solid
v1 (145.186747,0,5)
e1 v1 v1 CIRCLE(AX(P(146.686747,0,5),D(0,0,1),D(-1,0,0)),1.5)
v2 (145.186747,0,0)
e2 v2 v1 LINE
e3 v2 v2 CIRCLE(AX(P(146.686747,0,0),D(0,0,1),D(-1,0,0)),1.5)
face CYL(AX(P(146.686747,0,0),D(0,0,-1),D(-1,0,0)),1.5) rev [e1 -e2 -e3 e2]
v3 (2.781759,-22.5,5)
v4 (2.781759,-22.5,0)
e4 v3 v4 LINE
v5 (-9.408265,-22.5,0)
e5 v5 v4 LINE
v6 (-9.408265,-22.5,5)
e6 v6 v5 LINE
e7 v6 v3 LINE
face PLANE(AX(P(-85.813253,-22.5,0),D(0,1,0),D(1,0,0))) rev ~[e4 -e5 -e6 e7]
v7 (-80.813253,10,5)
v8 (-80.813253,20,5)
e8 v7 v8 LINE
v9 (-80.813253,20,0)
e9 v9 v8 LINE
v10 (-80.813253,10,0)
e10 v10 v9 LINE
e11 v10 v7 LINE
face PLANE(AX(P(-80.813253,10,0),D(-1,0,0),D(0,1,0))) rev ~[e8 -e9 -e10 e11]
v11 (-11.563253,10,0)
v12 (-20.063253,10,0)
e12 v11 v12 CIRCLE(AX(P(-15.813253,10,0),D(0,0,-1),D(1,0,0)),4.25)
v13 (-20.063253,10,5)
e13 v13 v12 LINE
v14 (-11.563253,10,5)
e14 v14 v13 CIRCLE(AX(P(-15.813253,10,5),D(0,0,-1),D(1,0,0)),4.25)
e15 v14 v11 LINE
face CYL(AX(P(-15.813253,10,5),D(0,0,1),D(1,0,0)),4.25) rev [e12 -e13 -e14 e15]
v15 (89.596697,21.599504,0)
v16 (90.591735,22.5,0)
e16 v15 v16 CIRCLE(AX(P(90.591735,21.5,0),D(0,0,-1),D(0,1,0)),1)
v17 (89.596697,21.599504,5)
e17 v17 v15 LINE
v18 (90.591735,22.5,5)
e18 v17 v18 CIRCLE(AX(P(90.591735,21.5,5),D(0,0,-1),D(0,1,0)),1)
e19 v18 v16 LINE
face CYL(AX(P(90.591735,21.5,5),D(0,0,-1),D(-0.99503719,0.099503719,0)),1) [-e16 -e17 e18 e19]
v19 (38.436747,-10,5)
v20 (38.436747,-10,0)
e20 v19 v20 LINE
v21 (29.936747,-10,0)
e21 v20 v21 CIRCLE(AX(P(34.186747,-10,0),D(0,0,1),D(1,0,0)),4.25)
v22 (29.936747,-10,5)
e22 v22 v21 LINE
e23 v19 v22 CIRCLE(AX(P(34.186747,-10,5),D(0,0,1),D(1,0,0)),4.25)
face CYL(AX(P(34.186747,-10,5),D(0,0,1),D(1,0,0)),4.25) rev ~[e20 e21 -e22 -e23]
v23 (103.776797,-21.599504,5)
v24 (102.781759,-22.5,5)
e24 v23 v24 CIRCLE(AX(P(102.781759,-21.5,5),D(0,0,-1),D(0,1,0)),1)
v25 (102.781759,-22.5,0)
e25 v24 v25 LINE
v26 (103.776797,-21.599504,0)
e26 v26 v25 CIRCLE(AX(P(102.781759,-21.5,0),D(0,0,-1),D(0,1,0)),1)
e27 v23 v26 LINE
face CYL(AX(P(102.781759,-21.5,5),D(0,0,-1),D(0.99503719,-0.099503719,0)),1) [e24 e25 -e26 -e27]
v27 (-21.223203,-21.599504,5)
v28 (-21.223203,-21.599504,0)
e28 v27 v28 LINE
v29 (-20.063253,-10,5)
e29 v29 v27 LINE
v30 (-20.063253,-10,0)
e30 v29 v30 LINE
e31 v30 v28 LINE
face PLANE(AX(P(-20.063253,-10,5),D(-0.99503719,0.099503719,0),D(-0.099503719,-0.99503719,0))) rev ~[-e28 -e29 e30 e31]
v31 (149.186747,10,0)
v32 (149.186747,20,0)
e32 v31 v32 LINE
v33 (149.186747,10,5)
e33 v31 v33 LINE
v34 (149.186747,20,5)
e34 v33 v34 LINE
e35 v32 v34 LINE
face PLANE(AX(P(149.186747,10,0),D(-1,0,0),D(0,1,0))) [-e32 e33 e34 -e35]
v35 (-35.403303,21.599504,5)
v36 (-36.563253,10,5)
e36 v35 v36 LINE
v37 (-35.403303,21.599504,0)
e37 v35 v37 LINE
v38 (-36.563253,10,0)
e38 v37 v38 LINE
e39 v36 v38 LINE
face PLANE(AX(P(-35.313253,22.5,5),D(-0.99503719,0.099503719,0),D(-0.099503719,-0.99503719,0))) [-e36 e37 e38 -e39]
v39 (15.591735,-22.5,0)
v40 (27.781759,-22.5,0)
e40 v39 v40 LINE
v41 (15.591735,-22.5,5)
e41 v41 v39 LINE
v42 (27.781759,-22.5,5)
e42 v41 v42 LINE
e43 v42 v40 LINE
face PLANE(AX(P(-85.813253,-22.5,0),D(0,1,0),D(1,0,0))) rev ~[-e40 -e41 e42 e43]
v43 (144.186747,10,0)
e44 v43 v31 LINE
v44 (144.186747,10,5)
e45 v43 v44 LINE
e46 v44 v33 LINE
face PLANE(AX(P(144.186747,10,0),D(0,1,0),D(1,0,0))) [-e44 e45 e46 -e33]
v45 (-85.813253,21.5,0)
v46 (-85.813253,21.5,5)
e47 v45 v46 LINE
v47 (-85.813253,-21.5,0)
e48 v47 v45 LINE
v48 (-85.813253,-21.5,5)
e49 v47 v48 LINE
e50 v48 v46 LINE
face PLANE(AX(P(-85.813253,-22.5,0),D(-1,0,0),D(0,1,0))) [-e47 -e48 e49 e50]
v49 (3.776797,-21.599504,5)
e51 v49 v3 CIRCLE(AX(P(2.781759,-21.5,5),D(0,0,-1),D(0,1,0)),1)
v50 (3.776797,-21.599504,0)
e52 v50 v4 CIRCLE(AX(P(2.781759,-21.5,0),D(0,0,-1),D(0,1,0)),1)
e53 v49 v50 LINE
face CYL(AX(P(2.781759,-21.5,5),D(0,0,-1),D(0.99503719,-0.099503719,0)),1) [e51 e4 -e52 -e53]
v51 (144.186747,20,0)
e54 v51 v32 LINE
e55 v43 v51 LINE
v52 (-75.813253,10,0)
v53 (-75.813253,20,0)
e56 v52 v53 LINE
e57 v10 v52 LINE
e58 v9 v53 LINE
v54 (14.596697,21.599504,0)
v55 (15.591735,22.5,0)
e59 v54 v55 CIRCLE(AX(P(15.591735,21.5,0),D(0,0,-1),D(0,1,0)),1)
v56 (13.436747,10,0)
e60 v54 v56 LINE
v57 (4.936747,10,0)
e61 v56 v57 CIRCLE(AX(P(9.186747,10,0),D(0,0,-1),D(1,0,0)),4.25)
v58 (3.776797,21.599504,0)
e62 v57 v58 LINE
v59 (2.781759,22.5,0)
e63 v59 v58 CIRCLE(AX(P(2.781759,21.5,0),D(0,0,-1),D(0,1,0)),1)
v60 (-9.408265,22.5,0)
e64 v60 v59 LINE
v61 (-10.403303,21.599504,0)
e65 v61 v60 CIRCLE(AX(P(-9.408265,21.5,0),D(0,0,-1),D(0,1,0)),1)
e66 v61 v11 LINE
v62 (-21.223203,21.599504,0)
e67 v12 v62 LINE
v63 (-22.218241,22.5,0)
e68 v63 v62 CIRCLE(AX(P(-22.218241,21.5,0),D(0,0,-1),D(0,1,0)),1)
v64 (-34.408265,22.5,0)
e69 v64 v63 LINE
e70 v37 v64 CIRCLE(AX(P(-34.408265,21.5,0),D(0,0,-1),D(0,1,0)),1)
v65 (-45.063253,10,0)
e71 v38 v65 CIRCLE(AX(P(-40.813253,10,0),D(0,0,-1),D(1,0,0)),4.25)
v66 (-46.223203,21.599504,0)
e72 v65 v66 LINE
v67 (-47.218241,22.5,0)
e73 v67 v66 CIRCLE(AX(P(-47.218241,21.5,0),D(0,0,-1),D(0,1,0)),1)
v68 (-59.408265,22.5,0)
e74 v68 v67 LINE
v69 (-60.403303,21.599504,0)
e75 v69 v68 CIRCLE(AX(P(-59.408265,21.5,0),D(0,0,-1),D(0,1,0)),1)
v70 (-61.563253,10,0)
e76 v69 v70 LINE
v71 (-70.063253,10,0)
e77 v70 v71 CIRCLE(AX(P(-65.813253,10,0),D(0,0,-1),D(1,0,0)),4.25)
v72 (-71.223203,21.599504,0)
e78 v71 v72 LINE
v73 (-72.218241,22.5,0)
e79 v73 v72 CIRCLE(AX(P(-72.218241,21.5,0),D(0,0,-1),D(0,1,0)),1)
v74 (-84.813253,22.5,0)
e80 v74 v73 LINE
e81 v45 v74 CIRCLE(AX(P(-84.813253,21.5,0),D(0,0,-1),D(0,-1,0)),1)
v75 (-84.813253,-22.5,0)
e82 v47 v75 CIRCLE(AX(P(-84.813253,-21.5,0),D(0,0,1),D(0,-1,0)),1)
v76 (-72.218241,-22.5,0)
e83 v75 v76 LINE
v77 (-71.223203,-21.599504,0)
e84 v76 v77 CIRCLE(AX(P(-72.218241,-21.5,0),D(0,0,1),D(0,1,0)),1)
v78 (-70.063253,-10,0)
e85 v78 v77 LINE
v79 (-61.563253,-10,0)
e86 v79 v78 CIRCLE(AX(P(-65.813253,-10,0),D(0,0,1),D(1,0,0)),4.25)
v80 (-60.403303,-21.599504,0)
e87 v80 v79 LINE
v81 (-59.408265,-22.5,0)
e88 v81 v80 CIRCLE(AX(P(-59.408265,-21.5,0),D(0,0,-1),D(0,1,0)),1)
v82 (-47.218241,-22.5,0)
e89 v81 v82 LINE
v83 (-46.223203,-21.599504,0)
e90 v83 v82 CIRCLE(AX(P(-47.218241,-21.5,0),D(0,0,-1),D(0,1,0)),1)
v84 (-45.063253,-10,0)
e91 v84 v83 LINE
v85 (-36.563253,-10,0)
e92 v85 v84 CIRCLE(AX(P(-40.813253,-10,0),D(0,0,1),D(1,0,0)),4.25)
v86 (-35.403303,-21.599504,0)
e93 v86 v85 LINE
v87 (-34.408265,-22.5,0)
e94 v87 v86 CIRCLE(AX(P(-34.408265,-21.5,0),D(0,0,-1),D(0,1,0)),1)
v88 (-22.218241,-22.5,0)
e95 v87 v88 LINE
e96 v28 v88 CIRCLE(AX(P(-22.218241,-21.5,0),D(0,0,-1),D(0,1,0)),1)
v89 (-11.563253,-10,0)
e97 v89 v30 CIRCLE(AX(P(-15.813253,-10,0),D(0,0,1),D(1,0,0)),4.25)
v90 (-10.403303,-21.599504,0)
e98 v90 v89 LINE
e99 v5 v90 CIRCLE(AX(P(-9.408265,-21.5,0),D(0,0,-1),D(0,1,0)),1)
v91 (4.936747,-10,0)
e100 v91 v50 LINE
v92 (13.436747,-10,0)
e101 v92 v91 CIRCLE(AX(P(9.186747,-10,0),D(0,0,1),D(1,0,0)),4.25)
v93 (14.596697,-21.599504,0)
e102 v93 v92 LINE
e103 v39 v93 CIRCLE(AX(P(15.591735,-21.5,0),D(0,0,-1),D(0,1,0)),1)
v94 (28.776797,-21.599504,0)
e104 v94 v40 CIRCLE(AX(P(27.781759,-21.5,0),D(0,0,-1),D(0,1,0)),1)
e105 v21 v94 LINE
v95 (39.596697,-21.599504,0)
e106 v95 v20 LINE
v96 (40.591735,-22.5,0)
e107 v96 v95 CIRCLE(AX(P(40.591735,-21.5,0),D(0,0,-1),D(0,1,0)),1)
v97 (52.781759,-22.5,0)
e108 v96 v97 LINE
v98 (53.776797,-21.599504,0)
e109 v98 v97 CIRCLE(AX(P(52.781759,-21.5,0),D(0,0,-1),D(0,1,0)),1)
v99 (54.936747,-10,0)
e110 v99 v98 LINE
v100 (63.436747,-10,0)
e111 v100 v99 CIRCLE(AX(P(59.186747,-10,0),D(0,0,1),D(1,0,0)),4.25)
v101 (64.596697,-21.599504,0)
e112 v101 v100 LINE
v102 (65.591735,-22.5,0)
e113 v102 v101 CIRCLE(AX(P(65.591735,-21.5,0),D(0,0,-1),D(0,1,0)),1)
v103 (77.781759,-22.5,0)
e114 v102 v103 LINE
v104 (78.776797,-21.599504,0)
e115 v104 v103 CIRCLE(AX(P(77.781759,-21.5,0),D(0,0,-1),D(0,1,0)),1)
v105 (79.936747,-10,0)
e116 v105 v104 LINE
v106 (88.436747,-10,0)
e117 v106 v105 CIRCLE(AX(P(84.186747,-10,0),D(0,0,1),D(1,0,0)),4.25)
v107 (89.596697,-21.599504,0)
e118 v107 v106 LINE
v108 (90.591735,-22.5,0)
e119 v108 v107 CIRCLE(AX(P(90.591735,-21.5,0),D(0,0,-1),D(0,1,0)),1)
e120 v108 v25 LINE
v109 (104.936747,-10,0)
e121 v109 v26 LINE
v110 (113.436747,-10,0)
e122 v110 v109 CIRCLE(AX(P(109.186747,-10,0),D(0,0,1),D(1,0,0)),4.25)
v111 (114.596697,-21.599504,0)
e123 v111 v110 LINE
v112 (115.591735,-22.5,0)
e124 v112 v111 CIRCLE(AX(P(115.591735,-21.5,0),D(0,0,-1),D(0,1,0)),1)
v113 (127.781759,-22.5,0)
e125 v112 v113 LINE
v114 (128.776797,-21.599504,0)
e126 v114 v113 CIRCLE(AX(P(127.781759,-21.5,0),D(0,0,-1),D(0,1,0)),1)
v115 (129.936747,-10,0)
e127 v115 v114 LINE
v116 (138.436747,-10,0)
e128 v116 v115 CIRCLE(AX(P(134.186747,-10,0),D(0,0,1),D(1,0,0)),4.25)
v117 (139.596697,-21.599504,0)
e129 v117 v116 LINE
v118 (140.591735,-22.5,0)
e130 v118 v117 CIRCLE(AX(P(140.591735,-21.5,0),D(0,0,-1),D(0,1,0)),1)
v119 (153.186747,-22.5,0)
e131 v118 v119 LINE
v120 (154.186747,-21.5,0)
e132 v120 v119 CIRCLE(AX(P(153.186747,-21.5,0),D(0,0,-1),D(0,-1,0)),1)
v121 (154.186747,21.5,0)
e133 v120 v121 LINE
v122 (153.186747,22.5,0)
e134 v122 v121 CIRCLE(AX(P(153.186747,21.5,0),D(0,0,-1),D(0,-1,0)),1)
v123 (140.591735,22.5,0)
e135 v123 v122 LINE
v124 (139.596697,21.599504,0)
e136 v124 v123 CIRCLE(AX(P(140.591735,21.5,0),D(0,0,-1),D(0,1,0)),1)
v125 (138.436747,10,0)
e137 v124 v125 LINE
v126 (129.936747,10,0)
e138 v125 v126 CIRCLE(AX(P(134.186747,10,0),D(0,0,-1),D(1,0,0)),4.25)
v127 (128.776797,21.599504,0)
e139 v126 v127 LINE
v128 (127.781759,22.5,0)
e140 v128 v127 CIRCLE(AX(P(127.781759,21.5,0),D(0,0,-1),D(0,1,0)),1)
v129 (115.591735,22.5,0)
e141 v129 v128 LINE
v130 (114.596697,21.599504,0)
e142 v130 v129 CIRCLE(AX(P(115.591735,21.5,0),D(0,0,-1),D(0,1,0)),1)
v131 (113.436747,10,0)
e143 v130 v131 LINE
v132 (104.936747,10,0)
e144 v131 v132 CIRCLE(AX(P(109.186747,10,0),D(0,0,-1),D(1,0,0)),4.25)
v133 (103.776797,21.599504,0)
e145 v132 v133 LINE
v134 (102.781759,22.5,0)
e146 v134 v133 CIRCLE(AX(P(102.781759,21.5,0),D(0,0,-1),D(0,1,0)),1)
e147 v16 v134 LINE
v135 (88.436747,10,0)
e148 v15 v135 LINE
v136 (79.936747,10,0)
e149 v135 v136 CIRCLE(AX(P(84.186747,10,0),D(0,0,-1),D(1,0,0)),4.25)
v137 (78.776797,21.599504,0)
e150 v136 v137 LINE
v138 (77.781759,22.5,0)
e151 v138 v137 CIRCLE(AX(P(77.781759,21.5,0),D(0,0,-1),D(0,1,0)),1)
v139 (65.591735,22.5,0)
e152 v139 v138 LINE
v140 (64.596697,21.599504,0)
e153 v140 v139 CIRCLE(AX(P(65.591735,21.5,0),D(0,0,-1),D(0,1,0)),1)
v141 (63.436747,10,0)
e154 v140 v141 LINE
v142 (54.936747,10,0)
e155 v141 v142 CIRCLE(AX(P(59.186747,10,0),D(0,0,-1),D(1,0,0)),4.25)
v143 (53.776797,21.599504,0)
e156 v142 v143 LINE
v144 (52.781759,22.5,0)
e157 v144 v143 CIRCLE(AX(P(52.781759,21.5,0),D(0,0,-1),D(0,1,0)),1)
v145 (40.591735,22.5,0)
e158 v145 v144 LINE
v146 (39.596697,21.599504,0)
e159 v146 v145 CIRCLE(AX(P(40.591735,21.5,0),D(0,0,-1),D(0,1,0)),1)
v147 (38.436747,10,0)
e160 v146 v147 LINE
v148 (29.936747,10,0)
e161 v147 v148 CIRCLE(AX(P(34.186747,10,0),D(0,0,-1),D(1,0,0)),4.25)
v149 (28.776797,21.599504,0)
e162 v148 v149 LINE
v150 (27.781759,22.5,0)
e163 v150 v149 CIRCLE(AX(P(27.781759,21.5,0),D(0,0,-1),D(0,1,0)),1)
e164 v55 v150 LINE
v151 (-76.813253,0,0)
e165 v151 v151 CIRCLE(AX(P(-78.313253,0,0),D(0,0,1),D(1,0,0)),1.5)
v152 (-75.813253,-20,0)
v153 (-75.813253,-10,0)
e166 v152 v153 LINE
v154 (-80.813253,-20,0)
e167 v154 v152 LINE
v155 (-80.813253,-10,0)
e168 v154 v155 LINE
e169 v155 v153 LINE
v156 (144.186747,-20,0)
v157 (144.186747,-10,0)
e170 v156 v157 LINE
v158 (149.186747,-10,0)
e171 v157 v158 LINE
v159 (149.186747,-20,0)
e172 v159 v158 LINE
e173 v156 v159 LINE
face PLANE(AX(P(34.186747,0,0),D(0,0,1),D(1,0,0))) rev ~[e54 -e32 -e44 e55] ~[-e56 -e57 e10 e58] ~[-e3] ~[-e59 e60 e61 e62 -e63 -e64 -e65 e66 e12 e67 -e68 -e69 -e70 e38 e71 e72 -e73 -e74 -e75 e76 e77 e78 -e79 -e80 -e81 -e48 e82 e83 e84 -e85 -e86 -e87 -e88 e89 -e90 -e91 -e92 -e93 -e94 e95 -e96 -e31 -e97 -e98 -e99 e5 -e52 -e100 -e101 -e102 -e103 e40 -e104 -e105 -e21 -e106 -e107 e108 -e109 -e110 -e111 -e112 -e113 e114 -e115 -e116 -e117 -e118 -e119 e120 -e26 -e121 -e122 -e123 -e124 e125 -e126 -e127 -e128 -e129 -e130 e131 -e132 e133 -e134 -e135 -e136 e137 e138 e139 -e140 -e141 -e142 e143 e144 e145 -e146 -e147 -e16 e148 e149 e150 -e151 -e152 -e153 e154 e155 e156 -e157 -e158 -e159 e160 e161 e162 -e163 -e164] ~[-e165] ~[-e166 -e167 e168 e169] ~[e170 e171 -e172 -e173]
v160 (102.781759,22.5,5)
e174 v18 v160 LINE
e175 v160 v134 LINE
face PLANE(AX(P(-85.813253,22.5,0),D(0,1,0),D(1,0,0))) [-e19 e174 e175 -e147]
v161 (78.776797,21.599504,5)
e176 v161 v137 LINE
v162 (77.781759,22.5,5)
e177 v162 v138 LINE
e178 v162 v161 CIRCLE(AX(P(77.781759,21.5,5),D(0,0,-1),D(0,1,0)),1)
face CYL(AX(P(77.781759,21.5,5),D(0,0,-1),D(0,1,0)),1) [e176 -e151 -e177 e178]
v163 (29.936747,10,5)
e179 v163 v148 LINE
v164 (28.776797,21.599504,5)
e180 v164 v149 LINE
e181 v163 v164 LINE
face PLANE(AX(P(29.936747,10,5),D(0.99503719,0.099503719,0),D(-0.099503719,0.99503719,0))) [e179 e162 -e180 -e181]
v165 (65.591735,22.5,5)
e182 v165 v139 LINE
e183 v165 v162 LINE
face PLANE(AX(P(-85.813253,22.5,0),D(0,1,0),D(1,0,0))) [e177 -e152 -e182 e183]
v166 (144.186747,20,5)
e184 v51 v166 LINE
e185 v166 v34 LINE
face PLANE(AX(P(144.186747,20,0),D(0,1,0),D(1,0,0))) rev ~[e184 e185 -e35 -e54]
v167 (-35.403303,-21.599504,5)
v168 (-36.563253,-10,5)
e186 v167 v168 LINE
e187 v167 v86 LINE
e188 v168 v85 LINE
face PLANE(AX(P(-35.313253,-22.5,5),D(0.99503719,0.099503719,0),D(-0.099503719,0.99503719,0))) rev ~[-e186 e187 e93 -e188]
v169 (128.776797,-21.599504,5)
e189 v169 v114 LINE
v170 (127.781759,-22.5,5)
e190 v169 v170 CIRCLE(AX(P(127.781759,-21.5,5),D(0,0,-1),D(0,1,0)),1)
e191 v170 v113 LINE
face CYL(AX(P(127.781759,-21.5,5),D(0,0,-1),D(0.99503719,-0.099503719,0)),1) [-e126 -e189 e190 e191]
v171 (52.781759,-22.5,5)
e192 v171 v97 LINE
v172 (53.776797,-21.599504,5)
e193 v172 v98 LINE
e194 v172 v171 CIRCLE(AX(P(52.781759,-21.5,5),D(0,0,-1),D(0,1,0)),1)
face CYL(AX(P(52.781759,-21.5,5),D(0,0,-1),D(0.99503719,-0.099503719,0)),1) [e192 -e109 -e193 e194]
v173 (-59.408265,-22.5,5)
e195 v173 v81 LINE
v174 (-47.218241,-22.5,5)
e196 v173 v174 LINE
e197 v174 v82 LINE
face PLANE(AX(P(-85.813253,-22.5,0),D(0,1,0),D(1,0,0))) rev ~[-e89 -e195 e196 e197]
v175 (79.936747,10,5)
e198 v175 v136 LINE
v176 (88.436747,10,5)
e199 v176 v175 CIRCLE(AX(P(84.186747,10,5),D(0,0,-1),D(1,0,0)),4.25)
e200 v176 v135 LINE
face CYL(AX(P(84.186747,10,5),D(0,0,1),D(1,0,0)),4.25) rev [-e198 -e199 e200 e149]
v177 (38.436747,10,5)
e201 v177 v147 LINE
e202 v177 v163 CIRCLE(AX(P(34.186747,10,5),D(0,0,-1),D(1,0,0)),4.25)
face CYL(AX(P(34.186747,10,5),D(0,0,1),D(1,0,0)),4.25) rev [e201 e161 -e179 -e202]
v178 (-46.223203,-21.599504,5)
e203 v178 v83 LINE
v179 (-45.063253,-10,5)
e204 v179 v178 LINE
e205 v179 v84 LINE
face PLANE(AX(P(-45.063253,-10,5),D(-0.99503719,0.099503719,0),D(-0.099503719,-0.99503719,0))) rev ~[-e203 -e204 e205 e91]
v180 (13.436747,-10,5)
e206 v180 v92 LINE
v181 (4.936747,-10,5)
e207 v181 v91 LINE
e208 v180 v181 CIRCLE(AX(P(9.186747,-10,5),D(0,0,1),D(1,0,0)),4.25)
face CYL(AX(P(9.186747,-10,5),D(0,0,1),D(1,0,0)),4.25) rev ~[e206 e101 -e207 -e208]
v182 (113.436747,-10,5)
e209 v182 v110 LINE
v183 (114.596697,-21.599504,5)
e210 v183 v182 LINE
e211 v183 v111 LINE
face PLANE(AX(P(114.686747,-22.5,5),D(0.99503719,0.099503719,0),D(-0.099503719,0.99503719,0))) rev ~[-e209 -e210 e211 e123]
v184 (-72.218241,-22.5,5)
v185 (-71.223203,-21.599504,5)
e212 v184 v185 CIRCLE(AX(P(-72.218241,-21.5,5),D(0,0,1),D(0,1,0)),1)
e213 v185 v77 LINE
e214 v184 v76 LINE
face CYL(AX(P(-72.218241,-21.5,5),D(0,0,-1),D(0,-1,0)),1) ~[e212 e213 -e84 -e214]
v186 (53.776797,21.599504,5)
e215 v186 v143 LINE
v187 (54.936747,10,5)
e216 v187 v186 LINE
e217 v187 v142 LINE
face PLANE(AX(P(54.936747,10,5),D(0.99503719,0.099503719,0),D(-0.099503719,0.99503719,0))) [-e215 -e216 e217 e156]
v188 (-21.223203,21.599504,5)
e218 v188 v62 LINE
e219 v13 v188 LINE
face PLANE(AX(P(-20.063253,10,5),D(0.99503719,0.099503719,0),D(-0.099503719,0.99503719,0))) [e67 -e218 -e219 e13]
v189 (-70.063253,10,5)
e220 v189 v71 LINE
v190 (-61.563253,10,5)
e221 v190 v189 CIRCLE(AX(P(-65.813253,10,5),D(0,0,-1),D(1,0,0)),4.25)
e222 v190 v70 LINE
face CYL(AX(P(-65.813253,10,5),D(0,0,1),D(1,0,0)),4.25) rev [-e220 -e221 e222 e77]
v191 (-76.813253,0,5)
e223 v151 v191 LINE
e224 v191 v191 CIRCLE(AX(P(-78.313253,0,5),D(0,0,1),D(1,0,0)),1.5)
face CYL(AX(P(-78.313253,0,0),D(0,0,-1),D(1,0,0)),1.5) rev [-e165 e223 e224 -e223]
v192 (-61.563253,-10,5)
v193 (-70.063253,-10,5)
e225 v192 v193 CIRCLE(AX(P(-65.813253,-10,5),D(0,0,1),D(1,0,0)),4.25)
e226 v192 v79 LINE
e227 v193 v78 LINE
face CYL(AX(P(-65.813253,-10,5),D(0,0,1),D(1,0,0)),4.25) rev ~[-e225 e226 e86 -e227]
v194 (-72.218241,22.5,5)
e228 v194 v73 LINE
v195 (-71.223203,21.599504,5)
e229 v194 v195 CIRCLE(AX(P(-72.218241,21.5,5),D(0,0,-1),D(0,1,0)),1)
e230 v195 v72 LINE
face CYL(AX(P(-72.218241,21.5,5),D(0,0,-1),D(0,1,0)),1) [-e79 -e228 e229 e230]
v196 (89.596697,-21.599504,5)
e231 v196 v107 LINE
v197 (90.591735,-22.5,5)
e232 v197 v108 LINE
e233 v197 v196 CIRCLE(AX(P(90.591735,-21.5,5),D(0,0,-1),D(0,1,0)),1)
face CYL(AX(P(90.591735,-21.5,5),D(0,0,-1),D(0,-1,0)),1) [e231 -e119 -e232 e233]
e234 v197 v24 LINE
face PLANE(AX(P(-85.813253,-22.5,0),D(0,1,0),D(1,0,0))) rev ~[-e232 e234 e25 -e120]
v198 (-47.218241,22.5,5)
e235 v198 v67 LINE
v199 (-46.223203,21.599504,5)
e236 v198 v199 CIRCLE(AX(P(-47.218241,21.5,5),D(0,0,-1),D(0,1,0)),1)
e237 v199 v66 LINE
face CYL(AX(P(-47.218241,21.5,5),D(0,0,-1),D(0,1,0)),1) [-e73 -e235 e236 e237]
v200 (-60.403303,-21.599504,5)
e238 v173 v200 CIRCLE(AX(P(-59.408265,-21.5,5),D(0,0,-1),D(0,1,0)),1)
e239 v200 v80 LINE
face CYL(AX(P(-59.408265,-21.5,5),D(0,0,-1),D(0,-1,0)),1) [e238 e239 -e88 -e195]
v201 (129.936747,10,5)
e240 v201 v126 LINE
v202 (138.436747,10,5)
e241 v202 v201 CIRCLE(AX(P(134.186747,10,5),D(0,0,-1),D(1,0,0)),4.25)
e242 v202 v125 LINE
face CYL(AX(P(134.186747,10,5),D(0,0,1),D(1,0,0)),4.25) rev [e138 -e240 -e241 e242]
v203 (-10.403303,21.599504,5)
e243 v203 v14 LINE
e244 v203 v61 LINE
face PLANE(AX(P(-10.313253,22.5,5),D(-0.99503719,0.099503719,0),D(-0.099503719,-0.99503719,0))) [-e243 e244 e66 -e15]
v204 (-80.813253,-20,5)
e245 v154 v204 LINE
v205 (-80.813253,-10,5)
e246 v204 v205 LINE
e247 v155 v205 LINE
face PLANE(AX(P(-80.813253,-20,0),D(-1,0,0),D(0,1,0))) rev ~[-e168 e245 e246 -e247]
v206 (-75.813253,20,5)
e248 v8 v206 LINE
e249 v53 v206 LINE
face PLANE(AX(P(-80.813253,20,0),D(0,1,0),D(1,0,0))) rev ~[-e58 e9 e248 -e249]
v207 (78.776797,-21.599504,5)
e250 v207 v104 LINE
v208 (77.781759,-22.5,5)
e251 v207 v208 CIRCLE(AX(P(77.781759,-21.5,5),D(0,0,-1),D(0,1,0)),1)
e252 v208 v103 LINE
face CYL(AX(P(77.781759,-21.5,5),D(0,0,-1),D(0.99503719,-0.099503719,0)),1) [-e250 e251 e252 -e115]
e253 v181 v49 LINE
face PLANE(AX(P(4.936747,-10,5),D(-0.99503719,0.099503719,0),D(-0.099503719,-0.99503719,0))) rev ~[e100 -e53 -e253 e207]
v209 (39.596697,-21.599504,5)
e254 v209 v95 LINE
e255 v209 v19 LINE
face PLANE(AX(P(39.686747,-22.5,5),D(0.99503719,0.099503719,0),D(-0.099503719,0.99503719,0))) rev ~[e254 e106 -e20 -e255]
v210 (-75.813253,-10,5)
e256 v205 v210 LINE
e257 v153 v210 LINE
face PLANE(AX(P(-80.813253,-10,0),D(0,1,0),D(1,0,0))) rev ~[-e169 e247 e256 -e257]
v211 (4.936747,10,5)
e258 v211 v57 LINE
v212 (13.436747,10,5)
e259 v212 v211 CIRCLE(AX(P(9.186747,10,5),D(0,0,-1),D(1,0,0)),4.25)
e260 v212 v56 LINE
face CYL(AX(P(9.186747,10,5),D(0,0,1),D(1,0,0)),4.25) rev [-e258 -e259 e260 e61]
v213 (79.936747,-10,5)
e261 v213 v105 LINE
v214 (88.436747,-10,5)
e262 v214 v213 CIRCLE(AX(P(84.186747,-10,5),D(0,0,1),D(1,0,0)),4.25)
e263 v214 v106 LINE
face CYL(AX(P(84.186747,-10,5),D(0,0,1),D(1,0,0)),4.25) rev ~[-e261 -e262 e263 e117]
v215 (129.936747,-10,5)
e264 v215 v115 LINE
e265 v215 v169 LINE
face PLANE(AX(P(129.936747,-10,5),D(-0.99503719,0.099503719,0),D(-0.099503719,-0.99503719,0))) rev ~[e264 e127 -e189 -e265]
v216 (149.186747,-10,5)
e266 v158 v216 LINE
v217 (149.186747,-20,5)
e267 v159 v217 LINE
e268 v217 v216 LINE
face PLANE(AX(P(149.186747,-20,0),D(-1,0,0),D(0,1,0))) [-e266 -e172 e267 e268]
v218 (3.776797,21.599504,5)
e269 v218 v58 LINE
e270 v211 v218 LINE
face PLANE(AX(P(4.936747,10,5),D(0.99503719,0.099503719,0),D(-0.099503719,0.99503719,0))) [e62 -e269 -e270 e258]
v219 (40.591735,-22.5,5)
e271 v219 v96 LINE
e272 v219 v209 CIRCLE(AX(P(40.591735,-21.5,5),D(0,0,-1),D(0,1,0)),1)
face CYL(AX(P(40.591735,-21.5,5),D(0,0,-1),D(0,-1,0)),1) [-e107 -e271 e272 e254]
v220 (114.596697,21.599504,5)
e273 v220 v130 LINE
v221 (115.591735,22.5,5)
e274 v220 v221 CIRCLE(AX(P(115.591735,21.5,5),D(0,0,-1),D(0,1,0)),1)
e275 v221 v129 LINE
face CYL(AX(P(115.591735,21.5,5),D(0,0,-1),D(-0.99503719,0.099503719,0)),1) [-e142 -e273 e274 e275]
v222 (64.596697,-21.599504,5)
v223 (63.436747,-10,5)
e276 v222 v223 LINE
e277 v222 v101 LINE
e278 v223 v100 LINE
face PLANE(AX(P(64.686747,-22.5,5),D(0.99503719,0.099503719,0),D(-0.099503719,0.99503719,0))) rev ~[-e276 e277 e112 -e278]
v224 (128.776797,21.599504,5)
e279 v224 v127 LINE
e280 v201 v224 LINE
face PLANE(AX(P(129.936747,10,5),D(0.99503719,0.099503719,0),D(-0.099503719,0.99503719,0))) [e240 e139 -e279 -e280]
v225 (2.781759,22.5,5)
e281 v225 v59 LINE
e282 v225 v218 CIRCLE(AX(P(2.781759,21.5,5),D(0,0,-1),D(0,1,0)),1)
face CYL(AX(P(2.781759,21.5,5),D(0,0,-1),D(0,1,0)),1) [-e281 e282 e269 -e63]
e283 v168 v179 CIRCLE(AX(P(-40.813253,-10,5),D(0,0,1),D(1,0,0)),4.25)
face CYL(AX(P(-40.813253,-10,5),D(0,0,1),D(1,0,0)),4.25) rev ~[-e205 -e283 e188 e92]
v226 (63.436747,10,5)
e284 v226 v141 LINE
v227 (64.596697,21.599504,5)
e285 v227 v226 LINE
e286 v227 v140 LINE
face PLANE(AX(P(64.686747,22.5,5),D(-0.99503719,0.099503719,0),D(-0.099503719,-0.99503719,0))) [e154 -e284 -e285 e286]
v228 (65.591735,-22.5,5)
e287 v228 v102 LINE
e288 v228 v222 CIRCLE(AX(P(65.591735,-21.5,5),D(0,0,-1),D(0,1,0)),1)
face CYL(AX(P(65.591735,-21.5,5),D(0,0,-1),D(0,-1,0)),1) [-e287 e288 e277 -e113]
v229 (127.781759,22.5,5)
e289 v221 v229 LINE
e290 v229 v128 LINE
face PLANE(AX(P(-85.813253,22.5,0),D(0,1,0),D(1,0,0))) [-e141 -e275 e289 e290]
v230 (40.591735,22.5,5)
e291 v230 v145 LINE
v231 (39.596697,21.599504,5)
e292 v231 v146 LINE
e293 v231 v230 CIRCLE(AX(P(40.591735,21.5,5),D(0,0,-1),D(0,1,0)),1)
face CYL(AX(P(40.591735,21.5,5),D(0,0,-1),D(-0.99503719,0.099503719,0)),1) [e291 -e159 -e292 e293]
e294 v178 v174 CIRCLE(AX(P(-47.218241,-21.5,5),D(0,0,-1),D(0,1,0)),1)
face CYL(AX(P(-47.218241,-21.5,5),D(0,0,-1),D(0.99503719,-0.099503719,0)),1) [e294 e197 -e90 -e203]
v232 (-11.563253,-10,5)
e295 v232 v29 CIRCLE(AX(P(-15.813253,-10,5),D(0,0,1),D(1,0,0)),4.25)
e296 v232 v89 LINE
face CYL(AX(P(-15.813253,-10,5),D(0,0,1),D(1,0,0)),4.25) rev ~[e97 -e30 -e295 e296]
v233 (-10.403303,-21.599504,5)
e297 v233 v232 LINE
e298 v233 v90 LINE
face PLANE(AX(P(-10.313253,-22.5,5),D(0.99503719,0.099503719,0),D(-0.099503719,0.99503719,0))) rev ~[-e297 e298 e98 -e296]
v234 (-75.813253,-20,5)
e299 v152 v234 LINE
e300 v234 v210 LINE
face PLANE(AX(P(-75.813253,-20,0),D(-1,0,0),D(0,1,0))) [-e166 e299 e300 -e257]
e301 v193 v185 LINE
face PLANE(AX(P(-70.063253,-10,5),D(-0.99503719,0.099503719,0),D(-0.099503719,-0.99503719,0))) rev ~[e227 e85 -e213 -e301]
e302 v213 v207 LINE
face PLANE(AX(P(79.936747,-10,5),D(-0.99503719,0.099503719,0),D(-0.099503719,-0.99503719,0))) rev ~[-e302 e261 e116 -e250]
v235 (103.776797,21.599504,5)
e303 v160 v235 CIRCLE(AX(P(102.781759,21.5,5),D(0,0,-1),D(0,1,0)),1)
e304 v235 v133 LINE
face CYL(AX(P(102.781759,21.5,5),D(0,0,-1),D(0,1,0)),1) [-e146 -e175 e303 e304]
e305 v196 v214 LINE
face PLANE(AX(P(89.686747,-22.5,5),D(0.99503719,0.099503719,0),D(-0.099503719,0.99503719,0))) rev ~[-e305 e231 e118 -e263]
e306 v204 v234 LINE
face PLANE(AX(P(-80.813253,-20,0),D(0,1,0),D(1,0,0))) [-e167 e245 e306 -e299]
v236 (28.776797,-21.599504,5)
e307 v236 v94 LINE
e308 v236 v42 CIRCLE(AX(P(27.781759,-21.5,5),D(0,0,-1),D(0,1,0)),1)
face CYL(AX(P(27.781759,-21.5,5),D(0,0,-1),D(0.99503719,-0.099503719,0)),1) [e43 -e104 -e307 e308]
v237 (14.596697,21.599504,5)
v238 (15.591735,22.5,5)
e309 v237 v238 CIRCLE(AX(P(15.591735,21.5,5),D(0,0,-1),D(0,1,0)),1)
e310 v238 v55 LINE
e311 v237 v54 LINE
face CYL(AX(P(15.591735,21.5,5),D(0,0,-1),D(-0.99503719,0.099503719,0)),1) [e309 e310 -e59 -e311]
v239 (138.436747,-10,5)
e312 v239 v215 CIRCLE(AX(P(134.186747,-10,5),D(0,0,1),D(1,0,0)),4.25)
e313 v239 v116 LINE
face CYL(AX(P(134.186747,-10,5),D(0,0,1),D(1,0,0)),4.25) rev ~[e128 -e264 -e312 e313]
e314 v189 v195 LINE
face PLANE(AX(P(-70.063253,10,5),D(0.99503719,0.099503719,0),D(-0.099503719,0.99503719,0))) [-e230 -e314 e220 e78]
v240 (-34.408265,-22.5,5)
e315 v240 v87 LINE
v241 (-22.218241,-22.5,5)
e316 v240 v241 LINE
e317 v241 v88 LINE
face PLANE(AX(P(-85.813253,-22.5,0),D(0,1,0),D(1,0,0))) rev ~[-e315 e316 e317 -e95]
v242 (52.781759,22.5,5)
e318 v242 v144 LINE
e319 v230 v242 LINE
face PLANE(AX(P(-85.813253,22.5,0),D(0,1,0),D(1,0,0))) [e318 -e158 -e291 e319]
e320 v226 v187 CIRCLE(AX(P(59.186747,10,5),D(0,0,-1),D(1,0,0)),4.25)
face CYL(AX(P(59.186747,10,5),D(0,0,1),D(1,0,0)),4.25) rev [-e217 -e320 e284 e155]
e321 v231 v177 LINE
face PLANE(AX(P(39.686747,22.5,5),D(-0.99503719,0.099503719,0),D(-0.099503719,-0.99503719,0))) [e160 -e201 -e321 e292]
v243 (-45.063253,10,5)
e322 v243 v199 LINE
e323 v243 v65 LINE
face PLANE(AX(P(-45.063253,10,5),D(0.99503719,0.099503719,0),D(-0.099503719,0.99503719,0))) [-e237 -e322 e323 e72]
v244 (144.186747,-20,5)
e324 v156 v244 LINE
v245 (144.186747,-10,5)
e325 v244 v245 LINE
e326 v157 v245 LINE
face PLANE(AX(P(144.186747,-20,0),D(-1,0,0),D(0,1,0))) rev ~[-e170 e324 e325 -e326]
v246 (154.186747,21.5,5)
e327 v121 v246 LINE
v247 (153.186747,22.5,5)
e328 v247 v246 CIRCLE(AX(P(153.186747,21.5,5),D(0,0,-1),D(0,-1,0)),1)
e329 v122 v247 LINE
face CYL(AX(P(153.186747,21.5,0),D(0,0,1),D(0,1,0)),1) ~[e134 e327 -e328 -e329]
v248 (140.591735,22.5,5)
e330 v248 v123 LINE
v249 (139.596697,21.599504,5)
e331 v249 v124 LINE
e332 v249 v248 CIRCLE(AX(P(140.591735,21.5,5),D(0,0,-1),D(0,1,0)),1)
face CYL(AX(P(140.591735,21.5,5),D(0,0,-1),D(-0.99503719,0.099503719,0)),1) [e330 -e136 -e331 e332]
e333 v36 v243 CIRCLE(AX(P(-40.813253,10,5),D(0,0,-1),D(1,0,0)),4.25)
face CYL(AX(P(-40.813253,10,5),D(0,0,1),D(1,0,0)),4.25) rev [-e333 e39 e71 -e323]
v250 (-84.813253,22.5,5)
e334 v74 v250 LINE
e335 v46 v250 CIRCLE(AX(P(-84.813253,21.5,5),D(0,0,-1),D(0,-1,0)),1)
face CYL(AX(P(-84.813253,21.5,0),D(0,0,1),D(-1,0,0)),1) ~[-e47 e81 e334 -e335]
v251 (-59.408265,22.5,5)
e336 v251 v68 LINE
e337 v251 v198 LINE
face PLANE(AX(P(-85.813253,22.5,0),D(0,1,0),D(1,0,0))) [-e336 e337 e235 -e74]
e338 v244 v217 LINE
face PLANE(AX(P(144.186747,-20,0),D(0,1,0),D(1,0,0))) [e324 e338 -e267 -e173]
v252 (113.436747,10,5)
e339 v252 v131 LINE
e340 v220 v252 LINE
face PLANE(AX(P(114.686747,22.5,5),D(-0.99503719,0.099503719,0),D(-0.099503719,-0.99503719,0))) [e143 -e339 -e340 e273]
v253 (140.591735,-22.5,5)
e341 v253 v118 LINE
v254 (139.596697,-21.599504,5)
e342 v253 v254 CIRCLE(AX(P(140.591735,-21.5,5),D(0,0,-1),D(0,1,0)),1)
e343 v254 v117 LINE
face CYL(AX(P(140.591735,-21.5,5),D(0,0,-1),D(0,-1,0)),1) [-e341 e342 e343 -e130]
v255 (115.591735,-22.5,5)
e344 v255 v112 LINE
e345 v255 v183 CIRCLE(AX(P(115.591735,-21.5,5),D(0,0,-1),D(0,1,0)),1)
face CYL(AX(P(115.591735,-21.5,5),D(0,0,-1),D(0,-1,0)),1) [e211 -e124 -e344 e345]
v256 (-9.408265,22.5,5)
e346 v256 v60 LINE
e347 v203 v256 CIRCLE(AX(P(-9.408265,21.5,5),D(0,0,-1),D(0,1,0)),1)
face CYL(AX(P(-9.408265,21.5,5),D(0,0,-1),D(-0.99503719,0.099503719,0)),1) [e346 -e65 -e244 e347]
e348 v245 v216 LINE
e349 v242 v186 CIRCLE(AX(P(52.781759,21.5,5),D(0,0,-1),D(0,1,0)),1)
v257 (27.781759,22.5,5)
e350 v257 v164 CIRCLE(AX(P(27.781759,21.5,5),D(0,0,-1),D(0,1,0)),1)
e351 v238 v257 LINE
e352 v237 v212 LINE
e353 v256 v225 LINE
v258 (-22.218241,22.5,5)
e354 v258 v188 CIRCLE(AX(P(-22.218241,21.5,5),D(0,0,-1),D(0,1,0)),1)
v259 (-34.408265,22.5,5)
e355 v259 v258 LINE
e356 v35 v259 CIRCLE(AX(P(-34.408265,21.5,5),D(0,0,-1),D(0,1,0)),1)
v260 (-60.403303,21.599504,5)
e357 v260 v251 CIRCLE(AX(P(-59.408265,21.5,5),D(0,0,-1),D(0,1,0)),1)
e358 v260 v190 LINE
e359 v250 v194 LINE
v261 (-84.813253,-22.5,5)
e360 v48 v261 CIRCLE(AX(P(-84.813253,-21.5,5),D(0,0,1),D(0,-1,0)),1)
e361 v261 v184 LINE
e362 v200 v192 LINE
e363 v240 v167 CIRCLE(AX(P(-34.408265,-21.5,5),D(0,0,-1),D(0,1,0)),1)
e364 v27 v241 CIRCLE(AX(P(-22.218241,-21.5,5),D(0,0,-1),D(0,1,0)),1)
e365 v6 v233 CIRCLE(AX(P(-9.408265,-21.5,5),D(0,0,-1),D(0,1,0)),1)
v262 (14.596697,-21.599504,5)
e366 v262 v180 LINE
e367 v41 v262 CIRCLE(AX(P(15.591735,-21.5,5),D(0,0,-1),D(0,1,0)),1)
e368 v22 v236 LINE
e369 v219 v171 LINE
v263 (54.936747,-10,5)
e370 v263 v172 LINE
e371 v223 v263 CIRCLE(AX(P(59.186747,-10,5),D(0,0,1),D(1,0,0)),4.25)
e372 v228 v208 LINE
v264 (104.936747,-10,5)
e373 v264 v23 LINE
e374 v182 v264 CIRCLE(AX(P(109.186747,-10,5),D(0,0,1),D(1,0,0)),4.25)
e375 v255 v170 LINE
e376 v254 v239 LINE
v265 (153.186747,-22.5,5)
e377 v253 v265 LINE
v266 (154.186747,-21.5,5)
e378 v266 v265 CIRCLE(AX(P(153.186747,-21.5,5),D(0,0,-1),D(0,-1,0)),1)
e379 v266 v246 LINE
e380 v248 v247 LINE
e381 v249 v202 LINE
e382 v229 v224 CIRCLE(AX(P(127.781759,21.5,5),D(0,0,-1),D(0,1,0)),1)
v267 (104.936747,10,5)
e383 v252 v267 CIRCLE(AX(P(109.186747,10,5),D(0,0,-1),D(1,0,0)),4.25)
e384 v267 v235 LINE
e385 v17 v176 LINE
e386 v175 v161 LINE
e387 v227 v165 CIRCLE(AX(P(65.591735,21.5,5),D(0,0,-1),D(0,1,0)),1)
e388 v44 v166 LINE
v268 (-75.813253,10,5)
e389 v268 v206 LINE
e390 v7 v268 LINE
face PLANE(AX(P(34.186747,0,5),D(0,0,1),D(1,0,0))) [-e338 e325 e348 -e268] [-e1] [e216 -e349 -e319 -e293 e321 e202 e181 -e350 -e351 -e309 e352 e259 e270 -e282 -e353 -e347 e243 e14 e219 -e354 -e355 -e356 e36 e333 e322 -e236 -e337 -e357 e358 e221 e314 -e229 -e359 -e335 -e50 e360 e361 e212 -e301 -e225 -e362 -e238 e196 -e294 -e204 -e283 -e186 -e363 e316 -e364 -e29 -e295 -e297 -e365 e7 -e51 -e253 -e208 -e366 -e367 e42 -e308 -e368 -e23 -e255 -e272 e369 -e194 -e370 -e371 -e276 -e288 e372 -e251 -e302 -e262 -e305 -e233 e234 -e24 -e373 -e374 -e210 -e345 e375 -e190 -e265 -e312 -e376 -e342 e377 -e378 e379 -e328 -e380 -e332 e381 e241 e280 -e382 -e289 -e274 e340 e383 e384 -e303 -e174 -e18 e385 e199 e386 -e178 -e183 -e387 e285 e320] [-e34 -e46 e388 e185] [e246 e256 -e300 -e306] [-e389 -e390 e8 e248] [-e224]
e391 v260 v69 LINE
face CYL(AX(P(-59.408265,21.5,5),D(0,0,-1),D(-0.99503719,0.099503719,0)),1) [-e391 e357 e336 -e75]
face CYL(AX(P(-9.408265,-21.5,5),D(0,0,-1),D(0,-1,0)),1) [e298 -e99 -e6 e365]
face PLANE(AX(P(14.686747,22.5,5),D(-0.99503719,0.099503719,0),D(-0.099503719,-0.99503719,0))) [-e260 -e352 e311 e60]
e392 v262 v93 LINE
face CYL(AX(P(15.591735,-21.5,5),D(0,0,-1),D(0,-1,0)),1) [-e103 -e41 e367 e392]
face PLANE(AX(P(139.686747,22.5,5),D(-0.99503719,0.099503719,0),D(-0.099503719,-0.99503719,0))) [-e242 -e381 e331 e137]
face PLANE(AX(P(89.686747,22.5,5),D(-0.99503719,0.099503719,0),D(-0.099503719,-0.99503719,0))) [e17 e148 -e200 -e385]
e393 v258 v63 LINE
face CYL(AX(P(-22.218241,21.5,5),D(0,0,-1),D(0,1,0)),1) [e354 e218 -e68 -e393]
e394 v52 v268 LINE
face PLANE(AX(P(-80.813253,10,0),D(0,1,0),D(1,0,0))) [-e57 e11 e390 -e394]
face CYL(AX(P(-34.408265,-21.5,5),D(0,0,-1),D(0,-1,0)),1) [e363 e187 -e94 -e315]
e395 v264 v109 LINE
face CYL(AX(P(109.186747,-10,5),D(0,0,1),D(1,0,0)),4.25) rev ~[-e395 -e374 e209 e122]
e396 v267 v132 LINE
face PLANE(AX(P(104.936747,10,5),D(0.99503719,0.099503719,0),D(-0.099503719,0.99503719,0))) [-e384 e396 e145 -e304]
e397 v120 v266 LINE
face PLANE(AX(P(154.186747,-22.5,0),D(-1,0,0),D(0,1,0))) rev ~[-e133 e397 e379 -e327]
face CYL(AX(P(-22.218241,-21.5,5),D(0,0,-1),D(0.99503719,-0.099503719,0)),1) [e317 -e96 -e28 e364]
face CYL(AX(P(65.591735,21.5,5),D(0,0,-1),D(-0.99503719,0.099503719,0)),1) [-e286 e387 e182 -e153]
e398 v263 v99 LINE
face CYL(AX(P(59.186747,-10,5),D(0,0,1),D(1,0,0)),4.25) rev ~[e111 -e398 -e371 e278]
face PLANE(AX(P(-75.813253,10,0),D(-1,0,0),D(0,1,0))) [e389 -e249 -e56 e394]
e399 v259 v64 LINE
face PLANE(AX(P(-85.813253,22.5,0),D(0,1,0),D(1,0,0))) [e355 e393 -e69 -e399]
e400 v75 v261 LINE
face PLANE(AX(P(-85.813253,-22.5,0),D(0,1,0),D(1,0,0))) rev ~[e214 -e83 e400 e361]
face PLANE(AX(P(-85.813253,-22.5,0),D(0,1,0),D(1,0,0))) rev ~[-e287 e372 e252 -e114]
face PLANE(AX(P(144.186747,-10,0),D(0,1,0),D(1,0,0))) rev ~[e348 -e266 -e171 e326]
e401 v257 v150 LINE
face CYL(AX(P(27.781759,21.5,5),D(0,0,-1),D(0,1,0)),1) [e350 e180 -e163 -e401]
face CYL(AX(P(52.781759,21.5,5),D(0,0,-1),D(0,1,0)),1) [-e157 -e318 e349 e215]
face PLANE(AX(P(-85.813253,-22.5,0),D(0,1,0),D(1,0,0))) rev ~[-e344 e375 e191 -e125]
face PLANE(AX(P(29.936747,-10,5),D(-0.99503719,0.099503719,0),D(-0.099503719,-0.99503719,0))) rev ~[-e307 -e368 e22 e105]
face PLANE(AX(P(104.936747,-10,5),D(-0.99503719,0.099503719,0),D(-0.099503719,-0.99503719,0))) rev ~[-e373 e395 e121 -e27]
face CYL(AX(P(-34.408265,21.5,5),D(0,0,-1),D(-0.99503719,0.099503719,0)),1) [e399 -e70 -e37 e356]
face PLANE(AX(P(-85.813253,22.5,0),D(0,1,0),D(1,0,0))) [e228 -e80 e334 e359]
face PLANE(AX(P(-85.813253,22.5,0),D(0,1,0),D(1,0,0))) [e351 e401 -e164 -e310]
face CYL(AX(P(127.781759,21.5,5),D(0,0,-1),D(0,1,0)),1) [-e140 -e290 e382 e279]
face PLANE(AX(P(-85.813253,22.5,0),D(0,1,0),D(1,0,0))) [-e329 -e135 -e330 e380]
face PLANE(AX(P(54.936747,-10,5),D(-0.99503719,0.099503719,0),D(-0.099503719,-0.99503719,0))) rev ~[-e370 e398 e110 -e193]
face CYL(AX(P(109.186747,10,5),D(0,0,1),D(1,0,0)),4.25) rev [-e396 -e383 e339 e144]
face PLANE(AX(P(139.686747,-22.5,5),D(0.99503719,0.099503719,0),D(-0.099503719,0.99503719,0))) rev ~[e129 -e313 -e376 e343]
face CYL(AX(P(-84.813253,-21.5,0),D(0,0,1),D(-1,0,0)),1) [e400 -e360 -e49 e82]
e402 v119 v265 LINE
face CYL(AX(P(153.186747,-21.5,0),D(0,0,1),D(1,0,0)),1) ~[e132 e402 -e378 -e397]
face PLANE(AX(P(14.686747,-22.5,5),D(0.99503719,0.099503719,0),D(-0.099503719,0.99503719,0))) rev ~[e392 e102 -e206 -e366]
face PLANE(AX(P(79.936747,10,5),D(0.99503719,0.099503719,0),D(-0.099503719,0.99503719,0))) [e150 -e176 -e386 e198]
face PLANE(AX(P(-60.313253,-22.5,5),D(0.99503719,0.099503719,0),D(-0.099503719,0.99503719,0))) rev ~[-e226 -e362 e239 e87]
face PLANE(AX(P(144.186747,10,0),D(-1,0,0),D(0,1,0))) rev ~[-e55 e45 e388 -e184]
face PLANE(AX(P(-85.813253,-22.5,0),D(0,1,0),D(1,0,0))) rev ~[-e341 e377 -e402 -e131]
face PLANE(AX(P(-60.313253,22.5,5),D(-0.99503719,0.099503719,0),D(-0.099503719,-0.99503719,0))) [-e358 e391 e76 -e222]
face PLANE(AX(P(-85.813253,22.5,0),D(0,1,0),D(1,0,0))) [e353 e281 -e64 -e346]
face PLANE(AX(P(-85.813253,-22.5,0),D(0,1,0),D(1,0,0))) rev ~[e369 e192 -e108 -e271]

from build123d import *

# Parameters (mm, degrees)
SKETCH1_W           = 240
SKETCH1_H           = 45
SKETCH1_R           = 1.5
SKETCH1_W_2         = 5
SKETCH1_H_2         = 10
BOSS_EXTRUDE1_DEPTH = 5
CUT_EXTRUDE1_DEPTH  = 5
FILLET1_R           = 1


with BuildPart() as part:
    # Sketch1 → Boss-Extrude1 (new body)
    with BuildSketch(Plane.XY):
        with Locations((34.186746988, 0)):
            Rectangle(SKETCH1_W, SKETCH1_H)
        with Locations((-78.313253012, 0)):
            Circle(SKETCH1_R, mode=Mode.SUBTRACT)
        with Locations(Location((146.686746988, 0, 0), (0, 0, 180))):
            Circle(SKETCH1_R, mode=Mode.SUBTRACT)
        with Locations((-78.313253012, -15)):
            Rectangle(SKETCH1_W_2, SKETCH1_H_2, mode=Mode.SUBTRACT)
        with Locations((-78.313253012, 15)):
            Rectangle(SKETCH1_W_2, SKETCH1_H_2, mode=Mode.SUBTRACT)
        with Locations((146.686746988, -15)):
            Rectangle(SKETCH1_W_2, SKETCH1_H_2, mode=Mode.SUBTRACT)
        with Locations((146.686746988, 15)):
            Rectangle(SKETCH1_W_2, SKETCH1_H_2, mode=Mode.SUBTRACT)
    extrude(amount=BOSS_EXTRUDE1_DEPTH)

    # Sketch2 → Cut-Extrude1 (cut)
    with BuildSketch(Plane.XY.offset(5)):
        with BuildLine():
            Line((-71.313253012, 22.5), (-60.313253012, 22.5))
            Line((-60.313253012, 22.5), (-61.563253012, 10))
            ThreePointArc((-61.563253012, 10), (-65.813253012, 5.75), (-70.063253012, 10))
            Line((-70.063253012, 10), (-71.313253012, 22.5))
        make_face()
        with BuildLine():
            Line((-46.313253012, 22.5), (-35.313253012, 22.5))
            Line((-35.313253012, 22.5), (-36.563253012, 10))
            ThreePointArc((-36.563253012, 10), (-40.813253012, 5.75), (-45.063253012, 10))
            Line((-45.063253012, 10), (-46.313253012, 22.5))
        make_face()
        with BuildLine():
            Line((-21.313253012, 22.5), (-10.313253012, 22.5))
            Line((-10.313253012, 22.5), (-11.563253012, 10))
            ThreePointArc((-11.563253012, 10), (-15.813253012, 5.75), (-20.063253012, 10))
            Line((-20.063253012, 10), (-21.313253012, 22.5))
        make_face()
        with BuildLine():
            Line((3.686746988, 22.5), (14.686746988, 22.5))
            Line((14.686746988, 22.5), (13.436746988, 10))
            ThreePointArc((13.436746988, 10), (9.186746988, 5.75), (4.936746988, 10))
            Line((4.936746988, 10), (3.686746988, 22.5))
        make_face()
        with BuildLine():
            Line((28.686746988, 22.5), (39.686746988, 22.5))
            Line((39.686746988, 22.5), (38.436746988, 10))
            ThreePointArc((38.436746988, 10), (34.186746988, 5.75), (29.936746988, 10))
            Line((29.936746988, 10), (28.686746988, 22.5))
        make_face()
        with BuildLine():
            Line((53.686746988, 22.5), (64.686746988, 22.5))
            Line((64.686746988, 22.5), (63.436746988, 10))
            ThreePointArc((63.436746988, 10), (59.186746988, 5.75), (54.936746988, 10))
            Line((54.936746988, 10), (53.686746988, 22.5))
        make_face()
        with BuildLine():
            Line((78.686746988, 22.5), (89.686746988, 22.5))
            Line((89.686746988, 22.5), (88.436746988, 10))
            ThreePointArc((88.436746988, 10), (84.186746988, 5.75), (79.936746988, 10))
            Line((79.936746988, 10), (78.686746988, 22.5))
        make_face()
        with BuildLine():
            Line((103.686746988, 22.5), (114.686746988, 22.5))
            Line((114.686746988, 22.5), (113.436746988, 10))
            ThreePointArc((113.436746988, 10), (109.186746988, 5.75), (104.936746988, 10))
            Line((104.936746988, 10), (103.686746988, 22.5))
        make_face()
        with BuildLine():
            Line((128.686746988, 22.5), (139.686746988, 22.5))
            Line((139.686746988, 22.5), (138.436746988, 10))
            ThreePointArc((138.436746988, 10), (134.186746988, 5.75), (129.936746988, 10))
            Line((129.936746988, 10), (128.686746988, 22.5))
        make_face()
        with BuildLine():
            Line((139.686746988, -22.5), (138.436746988, -10))
            ThreePointArc((138.436746988, -10), (134.186746988, -5.75), (129.936746988, -10))
            Line((129.936746988, -10), (128.686746988, -22.5))
            Line((128.686746988, -22.5), (139.686746988, -22.5))
        make_face()
        with BuildLine():
            Line((114.686746988, -22.5), (113.436746988, -10))
            ThreePointArc((113.436746988, -10), (109.186746988, -5.75), (104.936746988, -10))
            Line((104.936746988, -10), (103.686746988, -22.5))
            Line((103.686746988, -22.5), (114.686746988, -22.5))
        make_face()
        with BuildLine():
            Line((89.686746988, -22.5), (88.436746988, -10))
            ThreePointArc((88.436746988, -10), (84.186746988, -5.75), (79.936746988, -10))
            Line((79.936746988, -10), (78.686746988, -22.5))
            Line((78.686746988, -22.5), (89.686746988, -22.5))
        make_face()
        with BuildLine():
            Line((64.686746988, -22.5), (63.436746988, -10))
            ThreePointArc((63.436746988, -10), (59.186746988, -5.75), (54.936746988, -10))
            Line((54.936746988, -10), (53.686746988, -22.5))
            Line((53.686746988, -22.5), (64.686746988, -22.5))
        make_face()
        with BuildLine():
            Line((39.686746988, -22.5), (38.436746988, -10))
            ThreePointArc((38.436746988, -10), (34.186746988, -5.75), (29.936746988, -10))
            Line((29.936746988, -10), (28.686746988, -22.5))
            Line((28.686746988, -22.5), (39.686746988, -22.5))
        make_face()
        with BuildLine():
            Line((14.686746988, -22.5), (13.436746988, -10))
            ThreePointArc((13.436746988, -10), (9.186746988, -5.75), (4.936746988, -10))
            Line((4.936746988, -10), (3.686746988, -22.5))
            Line((3.686746988, -22.5), (14.686746988, -22.5))
        make_face()
        with BuildLine():
            Line((-10.313253012, -22.5), (-11.563253012, -10))
            ThreePointArc((-11.563253012, -10), (-15.813253012, -5.75), (-20.063253012, -10))
            Line((-20.063253012, -10), (-21.313253012, -22.5))
            Line((-21.313253012, -22.5), (-10.313253012, -22.5))
        make_face()
        with BuildLine():
            Line((-35.313253012, -22.5), (-36.563253012, -10))
            ThreePointArc((-36.563253012, -10), (-40.813253012, -5.75), (-45.063253012, -10))
            Line((-45.063253012, -10), (-46.313253012, -22.5))
            Line((-46.313253012, -22.5), (-35.313253012, -22.5))
        make_face()
        with BuildLine():
            Line((-60.313253012, -22.5), (-61.563253012, -10))
            ThreePointArc((-61.563253012, -10), (-65.813253012, -5.75), (-70.063253012, -10))
            Line((-70.063253012, -10), (-71.313253012, -22.5))
            Line((-71.313253012, -22.5), (-60.313253012, -22.5))
        make_face()
    extrude(amount=-CUT_EXTRUDE1_DEPTH, mode=Mode.SUBTRACT)

    # Fillet1
    fillet1_edges = [part.edges().sort_by_distance(p)[0] for p in [
        (-60.313253012, -22.5, 2.5),
        (-71.313253012, -22.5, 2.5),
        (-35.313253012, -22.5, 2.5),
        (-46.313253012, -22.5, 2.5),
        (-10.313253012, -22.5, 2.5),
        (-21.313253012, -22.5, 2.5),
        (14.686746988, -22.5, 2.5),
        (3.686746988, -22.5, 2.5),
        (39.686746988, -22.5, 2.5),
        (28.686746988, -22.5, 2.5),
        (64.686746988, -22.5, 2.5),
        (53.686746988, -22.5, 2.5),
        (89.686746988, -22.5, 2.5),
        (78.686746988, -22.5, 2.5),
        (114.686746988, -22.5, 2.5),
        (103.686746988, -22.5, 2.5),
        (139.686746988, -22.5, 2.5),
        (128.686746988, -22.5, 2.5),
        (128.686746988, 22.5, 2.5),
        (139.686746988, 22.5, 2.5),
        (103.686746988, 22.5, 2.5),
        (114.686746988, 22.5, 2.5),
        (78.686746988, 22.5, 2.5),
        (89.686746988, 22.5, 2.5),
        (53.686746988, 22.5, 2.5),
        (64.686746988, 22.5, 2.5),
        (28.686746988, 22.5, 2.5),
        (39.686746988, 22.5, 2.5),
        (3.686746988, 22.5, 2.5),
        (14.686746988, 22.5, 2.5),
        (-21.313253012, 22.5, 2.5),
        (-10.313253012, 22.5, 2.5),
        (-46.313253012, 22.5, 2.5),
        (-35.313253012, 22.5, 2.5),
        (-71.313253012, 22.5, 2.5),
        (-60.313253012, 22.5, 2.5),
        (-85.813253012, 22.5, 2.5),
        (154.186746988, 22.5, 2.5),
        (154.186746988, -22.5, 2.5),
        (-85.813253012, -22.5, 2.5),
    ]]
    fillet(fillet1_edges, radius=FILLET1_R)


solid = part.part
